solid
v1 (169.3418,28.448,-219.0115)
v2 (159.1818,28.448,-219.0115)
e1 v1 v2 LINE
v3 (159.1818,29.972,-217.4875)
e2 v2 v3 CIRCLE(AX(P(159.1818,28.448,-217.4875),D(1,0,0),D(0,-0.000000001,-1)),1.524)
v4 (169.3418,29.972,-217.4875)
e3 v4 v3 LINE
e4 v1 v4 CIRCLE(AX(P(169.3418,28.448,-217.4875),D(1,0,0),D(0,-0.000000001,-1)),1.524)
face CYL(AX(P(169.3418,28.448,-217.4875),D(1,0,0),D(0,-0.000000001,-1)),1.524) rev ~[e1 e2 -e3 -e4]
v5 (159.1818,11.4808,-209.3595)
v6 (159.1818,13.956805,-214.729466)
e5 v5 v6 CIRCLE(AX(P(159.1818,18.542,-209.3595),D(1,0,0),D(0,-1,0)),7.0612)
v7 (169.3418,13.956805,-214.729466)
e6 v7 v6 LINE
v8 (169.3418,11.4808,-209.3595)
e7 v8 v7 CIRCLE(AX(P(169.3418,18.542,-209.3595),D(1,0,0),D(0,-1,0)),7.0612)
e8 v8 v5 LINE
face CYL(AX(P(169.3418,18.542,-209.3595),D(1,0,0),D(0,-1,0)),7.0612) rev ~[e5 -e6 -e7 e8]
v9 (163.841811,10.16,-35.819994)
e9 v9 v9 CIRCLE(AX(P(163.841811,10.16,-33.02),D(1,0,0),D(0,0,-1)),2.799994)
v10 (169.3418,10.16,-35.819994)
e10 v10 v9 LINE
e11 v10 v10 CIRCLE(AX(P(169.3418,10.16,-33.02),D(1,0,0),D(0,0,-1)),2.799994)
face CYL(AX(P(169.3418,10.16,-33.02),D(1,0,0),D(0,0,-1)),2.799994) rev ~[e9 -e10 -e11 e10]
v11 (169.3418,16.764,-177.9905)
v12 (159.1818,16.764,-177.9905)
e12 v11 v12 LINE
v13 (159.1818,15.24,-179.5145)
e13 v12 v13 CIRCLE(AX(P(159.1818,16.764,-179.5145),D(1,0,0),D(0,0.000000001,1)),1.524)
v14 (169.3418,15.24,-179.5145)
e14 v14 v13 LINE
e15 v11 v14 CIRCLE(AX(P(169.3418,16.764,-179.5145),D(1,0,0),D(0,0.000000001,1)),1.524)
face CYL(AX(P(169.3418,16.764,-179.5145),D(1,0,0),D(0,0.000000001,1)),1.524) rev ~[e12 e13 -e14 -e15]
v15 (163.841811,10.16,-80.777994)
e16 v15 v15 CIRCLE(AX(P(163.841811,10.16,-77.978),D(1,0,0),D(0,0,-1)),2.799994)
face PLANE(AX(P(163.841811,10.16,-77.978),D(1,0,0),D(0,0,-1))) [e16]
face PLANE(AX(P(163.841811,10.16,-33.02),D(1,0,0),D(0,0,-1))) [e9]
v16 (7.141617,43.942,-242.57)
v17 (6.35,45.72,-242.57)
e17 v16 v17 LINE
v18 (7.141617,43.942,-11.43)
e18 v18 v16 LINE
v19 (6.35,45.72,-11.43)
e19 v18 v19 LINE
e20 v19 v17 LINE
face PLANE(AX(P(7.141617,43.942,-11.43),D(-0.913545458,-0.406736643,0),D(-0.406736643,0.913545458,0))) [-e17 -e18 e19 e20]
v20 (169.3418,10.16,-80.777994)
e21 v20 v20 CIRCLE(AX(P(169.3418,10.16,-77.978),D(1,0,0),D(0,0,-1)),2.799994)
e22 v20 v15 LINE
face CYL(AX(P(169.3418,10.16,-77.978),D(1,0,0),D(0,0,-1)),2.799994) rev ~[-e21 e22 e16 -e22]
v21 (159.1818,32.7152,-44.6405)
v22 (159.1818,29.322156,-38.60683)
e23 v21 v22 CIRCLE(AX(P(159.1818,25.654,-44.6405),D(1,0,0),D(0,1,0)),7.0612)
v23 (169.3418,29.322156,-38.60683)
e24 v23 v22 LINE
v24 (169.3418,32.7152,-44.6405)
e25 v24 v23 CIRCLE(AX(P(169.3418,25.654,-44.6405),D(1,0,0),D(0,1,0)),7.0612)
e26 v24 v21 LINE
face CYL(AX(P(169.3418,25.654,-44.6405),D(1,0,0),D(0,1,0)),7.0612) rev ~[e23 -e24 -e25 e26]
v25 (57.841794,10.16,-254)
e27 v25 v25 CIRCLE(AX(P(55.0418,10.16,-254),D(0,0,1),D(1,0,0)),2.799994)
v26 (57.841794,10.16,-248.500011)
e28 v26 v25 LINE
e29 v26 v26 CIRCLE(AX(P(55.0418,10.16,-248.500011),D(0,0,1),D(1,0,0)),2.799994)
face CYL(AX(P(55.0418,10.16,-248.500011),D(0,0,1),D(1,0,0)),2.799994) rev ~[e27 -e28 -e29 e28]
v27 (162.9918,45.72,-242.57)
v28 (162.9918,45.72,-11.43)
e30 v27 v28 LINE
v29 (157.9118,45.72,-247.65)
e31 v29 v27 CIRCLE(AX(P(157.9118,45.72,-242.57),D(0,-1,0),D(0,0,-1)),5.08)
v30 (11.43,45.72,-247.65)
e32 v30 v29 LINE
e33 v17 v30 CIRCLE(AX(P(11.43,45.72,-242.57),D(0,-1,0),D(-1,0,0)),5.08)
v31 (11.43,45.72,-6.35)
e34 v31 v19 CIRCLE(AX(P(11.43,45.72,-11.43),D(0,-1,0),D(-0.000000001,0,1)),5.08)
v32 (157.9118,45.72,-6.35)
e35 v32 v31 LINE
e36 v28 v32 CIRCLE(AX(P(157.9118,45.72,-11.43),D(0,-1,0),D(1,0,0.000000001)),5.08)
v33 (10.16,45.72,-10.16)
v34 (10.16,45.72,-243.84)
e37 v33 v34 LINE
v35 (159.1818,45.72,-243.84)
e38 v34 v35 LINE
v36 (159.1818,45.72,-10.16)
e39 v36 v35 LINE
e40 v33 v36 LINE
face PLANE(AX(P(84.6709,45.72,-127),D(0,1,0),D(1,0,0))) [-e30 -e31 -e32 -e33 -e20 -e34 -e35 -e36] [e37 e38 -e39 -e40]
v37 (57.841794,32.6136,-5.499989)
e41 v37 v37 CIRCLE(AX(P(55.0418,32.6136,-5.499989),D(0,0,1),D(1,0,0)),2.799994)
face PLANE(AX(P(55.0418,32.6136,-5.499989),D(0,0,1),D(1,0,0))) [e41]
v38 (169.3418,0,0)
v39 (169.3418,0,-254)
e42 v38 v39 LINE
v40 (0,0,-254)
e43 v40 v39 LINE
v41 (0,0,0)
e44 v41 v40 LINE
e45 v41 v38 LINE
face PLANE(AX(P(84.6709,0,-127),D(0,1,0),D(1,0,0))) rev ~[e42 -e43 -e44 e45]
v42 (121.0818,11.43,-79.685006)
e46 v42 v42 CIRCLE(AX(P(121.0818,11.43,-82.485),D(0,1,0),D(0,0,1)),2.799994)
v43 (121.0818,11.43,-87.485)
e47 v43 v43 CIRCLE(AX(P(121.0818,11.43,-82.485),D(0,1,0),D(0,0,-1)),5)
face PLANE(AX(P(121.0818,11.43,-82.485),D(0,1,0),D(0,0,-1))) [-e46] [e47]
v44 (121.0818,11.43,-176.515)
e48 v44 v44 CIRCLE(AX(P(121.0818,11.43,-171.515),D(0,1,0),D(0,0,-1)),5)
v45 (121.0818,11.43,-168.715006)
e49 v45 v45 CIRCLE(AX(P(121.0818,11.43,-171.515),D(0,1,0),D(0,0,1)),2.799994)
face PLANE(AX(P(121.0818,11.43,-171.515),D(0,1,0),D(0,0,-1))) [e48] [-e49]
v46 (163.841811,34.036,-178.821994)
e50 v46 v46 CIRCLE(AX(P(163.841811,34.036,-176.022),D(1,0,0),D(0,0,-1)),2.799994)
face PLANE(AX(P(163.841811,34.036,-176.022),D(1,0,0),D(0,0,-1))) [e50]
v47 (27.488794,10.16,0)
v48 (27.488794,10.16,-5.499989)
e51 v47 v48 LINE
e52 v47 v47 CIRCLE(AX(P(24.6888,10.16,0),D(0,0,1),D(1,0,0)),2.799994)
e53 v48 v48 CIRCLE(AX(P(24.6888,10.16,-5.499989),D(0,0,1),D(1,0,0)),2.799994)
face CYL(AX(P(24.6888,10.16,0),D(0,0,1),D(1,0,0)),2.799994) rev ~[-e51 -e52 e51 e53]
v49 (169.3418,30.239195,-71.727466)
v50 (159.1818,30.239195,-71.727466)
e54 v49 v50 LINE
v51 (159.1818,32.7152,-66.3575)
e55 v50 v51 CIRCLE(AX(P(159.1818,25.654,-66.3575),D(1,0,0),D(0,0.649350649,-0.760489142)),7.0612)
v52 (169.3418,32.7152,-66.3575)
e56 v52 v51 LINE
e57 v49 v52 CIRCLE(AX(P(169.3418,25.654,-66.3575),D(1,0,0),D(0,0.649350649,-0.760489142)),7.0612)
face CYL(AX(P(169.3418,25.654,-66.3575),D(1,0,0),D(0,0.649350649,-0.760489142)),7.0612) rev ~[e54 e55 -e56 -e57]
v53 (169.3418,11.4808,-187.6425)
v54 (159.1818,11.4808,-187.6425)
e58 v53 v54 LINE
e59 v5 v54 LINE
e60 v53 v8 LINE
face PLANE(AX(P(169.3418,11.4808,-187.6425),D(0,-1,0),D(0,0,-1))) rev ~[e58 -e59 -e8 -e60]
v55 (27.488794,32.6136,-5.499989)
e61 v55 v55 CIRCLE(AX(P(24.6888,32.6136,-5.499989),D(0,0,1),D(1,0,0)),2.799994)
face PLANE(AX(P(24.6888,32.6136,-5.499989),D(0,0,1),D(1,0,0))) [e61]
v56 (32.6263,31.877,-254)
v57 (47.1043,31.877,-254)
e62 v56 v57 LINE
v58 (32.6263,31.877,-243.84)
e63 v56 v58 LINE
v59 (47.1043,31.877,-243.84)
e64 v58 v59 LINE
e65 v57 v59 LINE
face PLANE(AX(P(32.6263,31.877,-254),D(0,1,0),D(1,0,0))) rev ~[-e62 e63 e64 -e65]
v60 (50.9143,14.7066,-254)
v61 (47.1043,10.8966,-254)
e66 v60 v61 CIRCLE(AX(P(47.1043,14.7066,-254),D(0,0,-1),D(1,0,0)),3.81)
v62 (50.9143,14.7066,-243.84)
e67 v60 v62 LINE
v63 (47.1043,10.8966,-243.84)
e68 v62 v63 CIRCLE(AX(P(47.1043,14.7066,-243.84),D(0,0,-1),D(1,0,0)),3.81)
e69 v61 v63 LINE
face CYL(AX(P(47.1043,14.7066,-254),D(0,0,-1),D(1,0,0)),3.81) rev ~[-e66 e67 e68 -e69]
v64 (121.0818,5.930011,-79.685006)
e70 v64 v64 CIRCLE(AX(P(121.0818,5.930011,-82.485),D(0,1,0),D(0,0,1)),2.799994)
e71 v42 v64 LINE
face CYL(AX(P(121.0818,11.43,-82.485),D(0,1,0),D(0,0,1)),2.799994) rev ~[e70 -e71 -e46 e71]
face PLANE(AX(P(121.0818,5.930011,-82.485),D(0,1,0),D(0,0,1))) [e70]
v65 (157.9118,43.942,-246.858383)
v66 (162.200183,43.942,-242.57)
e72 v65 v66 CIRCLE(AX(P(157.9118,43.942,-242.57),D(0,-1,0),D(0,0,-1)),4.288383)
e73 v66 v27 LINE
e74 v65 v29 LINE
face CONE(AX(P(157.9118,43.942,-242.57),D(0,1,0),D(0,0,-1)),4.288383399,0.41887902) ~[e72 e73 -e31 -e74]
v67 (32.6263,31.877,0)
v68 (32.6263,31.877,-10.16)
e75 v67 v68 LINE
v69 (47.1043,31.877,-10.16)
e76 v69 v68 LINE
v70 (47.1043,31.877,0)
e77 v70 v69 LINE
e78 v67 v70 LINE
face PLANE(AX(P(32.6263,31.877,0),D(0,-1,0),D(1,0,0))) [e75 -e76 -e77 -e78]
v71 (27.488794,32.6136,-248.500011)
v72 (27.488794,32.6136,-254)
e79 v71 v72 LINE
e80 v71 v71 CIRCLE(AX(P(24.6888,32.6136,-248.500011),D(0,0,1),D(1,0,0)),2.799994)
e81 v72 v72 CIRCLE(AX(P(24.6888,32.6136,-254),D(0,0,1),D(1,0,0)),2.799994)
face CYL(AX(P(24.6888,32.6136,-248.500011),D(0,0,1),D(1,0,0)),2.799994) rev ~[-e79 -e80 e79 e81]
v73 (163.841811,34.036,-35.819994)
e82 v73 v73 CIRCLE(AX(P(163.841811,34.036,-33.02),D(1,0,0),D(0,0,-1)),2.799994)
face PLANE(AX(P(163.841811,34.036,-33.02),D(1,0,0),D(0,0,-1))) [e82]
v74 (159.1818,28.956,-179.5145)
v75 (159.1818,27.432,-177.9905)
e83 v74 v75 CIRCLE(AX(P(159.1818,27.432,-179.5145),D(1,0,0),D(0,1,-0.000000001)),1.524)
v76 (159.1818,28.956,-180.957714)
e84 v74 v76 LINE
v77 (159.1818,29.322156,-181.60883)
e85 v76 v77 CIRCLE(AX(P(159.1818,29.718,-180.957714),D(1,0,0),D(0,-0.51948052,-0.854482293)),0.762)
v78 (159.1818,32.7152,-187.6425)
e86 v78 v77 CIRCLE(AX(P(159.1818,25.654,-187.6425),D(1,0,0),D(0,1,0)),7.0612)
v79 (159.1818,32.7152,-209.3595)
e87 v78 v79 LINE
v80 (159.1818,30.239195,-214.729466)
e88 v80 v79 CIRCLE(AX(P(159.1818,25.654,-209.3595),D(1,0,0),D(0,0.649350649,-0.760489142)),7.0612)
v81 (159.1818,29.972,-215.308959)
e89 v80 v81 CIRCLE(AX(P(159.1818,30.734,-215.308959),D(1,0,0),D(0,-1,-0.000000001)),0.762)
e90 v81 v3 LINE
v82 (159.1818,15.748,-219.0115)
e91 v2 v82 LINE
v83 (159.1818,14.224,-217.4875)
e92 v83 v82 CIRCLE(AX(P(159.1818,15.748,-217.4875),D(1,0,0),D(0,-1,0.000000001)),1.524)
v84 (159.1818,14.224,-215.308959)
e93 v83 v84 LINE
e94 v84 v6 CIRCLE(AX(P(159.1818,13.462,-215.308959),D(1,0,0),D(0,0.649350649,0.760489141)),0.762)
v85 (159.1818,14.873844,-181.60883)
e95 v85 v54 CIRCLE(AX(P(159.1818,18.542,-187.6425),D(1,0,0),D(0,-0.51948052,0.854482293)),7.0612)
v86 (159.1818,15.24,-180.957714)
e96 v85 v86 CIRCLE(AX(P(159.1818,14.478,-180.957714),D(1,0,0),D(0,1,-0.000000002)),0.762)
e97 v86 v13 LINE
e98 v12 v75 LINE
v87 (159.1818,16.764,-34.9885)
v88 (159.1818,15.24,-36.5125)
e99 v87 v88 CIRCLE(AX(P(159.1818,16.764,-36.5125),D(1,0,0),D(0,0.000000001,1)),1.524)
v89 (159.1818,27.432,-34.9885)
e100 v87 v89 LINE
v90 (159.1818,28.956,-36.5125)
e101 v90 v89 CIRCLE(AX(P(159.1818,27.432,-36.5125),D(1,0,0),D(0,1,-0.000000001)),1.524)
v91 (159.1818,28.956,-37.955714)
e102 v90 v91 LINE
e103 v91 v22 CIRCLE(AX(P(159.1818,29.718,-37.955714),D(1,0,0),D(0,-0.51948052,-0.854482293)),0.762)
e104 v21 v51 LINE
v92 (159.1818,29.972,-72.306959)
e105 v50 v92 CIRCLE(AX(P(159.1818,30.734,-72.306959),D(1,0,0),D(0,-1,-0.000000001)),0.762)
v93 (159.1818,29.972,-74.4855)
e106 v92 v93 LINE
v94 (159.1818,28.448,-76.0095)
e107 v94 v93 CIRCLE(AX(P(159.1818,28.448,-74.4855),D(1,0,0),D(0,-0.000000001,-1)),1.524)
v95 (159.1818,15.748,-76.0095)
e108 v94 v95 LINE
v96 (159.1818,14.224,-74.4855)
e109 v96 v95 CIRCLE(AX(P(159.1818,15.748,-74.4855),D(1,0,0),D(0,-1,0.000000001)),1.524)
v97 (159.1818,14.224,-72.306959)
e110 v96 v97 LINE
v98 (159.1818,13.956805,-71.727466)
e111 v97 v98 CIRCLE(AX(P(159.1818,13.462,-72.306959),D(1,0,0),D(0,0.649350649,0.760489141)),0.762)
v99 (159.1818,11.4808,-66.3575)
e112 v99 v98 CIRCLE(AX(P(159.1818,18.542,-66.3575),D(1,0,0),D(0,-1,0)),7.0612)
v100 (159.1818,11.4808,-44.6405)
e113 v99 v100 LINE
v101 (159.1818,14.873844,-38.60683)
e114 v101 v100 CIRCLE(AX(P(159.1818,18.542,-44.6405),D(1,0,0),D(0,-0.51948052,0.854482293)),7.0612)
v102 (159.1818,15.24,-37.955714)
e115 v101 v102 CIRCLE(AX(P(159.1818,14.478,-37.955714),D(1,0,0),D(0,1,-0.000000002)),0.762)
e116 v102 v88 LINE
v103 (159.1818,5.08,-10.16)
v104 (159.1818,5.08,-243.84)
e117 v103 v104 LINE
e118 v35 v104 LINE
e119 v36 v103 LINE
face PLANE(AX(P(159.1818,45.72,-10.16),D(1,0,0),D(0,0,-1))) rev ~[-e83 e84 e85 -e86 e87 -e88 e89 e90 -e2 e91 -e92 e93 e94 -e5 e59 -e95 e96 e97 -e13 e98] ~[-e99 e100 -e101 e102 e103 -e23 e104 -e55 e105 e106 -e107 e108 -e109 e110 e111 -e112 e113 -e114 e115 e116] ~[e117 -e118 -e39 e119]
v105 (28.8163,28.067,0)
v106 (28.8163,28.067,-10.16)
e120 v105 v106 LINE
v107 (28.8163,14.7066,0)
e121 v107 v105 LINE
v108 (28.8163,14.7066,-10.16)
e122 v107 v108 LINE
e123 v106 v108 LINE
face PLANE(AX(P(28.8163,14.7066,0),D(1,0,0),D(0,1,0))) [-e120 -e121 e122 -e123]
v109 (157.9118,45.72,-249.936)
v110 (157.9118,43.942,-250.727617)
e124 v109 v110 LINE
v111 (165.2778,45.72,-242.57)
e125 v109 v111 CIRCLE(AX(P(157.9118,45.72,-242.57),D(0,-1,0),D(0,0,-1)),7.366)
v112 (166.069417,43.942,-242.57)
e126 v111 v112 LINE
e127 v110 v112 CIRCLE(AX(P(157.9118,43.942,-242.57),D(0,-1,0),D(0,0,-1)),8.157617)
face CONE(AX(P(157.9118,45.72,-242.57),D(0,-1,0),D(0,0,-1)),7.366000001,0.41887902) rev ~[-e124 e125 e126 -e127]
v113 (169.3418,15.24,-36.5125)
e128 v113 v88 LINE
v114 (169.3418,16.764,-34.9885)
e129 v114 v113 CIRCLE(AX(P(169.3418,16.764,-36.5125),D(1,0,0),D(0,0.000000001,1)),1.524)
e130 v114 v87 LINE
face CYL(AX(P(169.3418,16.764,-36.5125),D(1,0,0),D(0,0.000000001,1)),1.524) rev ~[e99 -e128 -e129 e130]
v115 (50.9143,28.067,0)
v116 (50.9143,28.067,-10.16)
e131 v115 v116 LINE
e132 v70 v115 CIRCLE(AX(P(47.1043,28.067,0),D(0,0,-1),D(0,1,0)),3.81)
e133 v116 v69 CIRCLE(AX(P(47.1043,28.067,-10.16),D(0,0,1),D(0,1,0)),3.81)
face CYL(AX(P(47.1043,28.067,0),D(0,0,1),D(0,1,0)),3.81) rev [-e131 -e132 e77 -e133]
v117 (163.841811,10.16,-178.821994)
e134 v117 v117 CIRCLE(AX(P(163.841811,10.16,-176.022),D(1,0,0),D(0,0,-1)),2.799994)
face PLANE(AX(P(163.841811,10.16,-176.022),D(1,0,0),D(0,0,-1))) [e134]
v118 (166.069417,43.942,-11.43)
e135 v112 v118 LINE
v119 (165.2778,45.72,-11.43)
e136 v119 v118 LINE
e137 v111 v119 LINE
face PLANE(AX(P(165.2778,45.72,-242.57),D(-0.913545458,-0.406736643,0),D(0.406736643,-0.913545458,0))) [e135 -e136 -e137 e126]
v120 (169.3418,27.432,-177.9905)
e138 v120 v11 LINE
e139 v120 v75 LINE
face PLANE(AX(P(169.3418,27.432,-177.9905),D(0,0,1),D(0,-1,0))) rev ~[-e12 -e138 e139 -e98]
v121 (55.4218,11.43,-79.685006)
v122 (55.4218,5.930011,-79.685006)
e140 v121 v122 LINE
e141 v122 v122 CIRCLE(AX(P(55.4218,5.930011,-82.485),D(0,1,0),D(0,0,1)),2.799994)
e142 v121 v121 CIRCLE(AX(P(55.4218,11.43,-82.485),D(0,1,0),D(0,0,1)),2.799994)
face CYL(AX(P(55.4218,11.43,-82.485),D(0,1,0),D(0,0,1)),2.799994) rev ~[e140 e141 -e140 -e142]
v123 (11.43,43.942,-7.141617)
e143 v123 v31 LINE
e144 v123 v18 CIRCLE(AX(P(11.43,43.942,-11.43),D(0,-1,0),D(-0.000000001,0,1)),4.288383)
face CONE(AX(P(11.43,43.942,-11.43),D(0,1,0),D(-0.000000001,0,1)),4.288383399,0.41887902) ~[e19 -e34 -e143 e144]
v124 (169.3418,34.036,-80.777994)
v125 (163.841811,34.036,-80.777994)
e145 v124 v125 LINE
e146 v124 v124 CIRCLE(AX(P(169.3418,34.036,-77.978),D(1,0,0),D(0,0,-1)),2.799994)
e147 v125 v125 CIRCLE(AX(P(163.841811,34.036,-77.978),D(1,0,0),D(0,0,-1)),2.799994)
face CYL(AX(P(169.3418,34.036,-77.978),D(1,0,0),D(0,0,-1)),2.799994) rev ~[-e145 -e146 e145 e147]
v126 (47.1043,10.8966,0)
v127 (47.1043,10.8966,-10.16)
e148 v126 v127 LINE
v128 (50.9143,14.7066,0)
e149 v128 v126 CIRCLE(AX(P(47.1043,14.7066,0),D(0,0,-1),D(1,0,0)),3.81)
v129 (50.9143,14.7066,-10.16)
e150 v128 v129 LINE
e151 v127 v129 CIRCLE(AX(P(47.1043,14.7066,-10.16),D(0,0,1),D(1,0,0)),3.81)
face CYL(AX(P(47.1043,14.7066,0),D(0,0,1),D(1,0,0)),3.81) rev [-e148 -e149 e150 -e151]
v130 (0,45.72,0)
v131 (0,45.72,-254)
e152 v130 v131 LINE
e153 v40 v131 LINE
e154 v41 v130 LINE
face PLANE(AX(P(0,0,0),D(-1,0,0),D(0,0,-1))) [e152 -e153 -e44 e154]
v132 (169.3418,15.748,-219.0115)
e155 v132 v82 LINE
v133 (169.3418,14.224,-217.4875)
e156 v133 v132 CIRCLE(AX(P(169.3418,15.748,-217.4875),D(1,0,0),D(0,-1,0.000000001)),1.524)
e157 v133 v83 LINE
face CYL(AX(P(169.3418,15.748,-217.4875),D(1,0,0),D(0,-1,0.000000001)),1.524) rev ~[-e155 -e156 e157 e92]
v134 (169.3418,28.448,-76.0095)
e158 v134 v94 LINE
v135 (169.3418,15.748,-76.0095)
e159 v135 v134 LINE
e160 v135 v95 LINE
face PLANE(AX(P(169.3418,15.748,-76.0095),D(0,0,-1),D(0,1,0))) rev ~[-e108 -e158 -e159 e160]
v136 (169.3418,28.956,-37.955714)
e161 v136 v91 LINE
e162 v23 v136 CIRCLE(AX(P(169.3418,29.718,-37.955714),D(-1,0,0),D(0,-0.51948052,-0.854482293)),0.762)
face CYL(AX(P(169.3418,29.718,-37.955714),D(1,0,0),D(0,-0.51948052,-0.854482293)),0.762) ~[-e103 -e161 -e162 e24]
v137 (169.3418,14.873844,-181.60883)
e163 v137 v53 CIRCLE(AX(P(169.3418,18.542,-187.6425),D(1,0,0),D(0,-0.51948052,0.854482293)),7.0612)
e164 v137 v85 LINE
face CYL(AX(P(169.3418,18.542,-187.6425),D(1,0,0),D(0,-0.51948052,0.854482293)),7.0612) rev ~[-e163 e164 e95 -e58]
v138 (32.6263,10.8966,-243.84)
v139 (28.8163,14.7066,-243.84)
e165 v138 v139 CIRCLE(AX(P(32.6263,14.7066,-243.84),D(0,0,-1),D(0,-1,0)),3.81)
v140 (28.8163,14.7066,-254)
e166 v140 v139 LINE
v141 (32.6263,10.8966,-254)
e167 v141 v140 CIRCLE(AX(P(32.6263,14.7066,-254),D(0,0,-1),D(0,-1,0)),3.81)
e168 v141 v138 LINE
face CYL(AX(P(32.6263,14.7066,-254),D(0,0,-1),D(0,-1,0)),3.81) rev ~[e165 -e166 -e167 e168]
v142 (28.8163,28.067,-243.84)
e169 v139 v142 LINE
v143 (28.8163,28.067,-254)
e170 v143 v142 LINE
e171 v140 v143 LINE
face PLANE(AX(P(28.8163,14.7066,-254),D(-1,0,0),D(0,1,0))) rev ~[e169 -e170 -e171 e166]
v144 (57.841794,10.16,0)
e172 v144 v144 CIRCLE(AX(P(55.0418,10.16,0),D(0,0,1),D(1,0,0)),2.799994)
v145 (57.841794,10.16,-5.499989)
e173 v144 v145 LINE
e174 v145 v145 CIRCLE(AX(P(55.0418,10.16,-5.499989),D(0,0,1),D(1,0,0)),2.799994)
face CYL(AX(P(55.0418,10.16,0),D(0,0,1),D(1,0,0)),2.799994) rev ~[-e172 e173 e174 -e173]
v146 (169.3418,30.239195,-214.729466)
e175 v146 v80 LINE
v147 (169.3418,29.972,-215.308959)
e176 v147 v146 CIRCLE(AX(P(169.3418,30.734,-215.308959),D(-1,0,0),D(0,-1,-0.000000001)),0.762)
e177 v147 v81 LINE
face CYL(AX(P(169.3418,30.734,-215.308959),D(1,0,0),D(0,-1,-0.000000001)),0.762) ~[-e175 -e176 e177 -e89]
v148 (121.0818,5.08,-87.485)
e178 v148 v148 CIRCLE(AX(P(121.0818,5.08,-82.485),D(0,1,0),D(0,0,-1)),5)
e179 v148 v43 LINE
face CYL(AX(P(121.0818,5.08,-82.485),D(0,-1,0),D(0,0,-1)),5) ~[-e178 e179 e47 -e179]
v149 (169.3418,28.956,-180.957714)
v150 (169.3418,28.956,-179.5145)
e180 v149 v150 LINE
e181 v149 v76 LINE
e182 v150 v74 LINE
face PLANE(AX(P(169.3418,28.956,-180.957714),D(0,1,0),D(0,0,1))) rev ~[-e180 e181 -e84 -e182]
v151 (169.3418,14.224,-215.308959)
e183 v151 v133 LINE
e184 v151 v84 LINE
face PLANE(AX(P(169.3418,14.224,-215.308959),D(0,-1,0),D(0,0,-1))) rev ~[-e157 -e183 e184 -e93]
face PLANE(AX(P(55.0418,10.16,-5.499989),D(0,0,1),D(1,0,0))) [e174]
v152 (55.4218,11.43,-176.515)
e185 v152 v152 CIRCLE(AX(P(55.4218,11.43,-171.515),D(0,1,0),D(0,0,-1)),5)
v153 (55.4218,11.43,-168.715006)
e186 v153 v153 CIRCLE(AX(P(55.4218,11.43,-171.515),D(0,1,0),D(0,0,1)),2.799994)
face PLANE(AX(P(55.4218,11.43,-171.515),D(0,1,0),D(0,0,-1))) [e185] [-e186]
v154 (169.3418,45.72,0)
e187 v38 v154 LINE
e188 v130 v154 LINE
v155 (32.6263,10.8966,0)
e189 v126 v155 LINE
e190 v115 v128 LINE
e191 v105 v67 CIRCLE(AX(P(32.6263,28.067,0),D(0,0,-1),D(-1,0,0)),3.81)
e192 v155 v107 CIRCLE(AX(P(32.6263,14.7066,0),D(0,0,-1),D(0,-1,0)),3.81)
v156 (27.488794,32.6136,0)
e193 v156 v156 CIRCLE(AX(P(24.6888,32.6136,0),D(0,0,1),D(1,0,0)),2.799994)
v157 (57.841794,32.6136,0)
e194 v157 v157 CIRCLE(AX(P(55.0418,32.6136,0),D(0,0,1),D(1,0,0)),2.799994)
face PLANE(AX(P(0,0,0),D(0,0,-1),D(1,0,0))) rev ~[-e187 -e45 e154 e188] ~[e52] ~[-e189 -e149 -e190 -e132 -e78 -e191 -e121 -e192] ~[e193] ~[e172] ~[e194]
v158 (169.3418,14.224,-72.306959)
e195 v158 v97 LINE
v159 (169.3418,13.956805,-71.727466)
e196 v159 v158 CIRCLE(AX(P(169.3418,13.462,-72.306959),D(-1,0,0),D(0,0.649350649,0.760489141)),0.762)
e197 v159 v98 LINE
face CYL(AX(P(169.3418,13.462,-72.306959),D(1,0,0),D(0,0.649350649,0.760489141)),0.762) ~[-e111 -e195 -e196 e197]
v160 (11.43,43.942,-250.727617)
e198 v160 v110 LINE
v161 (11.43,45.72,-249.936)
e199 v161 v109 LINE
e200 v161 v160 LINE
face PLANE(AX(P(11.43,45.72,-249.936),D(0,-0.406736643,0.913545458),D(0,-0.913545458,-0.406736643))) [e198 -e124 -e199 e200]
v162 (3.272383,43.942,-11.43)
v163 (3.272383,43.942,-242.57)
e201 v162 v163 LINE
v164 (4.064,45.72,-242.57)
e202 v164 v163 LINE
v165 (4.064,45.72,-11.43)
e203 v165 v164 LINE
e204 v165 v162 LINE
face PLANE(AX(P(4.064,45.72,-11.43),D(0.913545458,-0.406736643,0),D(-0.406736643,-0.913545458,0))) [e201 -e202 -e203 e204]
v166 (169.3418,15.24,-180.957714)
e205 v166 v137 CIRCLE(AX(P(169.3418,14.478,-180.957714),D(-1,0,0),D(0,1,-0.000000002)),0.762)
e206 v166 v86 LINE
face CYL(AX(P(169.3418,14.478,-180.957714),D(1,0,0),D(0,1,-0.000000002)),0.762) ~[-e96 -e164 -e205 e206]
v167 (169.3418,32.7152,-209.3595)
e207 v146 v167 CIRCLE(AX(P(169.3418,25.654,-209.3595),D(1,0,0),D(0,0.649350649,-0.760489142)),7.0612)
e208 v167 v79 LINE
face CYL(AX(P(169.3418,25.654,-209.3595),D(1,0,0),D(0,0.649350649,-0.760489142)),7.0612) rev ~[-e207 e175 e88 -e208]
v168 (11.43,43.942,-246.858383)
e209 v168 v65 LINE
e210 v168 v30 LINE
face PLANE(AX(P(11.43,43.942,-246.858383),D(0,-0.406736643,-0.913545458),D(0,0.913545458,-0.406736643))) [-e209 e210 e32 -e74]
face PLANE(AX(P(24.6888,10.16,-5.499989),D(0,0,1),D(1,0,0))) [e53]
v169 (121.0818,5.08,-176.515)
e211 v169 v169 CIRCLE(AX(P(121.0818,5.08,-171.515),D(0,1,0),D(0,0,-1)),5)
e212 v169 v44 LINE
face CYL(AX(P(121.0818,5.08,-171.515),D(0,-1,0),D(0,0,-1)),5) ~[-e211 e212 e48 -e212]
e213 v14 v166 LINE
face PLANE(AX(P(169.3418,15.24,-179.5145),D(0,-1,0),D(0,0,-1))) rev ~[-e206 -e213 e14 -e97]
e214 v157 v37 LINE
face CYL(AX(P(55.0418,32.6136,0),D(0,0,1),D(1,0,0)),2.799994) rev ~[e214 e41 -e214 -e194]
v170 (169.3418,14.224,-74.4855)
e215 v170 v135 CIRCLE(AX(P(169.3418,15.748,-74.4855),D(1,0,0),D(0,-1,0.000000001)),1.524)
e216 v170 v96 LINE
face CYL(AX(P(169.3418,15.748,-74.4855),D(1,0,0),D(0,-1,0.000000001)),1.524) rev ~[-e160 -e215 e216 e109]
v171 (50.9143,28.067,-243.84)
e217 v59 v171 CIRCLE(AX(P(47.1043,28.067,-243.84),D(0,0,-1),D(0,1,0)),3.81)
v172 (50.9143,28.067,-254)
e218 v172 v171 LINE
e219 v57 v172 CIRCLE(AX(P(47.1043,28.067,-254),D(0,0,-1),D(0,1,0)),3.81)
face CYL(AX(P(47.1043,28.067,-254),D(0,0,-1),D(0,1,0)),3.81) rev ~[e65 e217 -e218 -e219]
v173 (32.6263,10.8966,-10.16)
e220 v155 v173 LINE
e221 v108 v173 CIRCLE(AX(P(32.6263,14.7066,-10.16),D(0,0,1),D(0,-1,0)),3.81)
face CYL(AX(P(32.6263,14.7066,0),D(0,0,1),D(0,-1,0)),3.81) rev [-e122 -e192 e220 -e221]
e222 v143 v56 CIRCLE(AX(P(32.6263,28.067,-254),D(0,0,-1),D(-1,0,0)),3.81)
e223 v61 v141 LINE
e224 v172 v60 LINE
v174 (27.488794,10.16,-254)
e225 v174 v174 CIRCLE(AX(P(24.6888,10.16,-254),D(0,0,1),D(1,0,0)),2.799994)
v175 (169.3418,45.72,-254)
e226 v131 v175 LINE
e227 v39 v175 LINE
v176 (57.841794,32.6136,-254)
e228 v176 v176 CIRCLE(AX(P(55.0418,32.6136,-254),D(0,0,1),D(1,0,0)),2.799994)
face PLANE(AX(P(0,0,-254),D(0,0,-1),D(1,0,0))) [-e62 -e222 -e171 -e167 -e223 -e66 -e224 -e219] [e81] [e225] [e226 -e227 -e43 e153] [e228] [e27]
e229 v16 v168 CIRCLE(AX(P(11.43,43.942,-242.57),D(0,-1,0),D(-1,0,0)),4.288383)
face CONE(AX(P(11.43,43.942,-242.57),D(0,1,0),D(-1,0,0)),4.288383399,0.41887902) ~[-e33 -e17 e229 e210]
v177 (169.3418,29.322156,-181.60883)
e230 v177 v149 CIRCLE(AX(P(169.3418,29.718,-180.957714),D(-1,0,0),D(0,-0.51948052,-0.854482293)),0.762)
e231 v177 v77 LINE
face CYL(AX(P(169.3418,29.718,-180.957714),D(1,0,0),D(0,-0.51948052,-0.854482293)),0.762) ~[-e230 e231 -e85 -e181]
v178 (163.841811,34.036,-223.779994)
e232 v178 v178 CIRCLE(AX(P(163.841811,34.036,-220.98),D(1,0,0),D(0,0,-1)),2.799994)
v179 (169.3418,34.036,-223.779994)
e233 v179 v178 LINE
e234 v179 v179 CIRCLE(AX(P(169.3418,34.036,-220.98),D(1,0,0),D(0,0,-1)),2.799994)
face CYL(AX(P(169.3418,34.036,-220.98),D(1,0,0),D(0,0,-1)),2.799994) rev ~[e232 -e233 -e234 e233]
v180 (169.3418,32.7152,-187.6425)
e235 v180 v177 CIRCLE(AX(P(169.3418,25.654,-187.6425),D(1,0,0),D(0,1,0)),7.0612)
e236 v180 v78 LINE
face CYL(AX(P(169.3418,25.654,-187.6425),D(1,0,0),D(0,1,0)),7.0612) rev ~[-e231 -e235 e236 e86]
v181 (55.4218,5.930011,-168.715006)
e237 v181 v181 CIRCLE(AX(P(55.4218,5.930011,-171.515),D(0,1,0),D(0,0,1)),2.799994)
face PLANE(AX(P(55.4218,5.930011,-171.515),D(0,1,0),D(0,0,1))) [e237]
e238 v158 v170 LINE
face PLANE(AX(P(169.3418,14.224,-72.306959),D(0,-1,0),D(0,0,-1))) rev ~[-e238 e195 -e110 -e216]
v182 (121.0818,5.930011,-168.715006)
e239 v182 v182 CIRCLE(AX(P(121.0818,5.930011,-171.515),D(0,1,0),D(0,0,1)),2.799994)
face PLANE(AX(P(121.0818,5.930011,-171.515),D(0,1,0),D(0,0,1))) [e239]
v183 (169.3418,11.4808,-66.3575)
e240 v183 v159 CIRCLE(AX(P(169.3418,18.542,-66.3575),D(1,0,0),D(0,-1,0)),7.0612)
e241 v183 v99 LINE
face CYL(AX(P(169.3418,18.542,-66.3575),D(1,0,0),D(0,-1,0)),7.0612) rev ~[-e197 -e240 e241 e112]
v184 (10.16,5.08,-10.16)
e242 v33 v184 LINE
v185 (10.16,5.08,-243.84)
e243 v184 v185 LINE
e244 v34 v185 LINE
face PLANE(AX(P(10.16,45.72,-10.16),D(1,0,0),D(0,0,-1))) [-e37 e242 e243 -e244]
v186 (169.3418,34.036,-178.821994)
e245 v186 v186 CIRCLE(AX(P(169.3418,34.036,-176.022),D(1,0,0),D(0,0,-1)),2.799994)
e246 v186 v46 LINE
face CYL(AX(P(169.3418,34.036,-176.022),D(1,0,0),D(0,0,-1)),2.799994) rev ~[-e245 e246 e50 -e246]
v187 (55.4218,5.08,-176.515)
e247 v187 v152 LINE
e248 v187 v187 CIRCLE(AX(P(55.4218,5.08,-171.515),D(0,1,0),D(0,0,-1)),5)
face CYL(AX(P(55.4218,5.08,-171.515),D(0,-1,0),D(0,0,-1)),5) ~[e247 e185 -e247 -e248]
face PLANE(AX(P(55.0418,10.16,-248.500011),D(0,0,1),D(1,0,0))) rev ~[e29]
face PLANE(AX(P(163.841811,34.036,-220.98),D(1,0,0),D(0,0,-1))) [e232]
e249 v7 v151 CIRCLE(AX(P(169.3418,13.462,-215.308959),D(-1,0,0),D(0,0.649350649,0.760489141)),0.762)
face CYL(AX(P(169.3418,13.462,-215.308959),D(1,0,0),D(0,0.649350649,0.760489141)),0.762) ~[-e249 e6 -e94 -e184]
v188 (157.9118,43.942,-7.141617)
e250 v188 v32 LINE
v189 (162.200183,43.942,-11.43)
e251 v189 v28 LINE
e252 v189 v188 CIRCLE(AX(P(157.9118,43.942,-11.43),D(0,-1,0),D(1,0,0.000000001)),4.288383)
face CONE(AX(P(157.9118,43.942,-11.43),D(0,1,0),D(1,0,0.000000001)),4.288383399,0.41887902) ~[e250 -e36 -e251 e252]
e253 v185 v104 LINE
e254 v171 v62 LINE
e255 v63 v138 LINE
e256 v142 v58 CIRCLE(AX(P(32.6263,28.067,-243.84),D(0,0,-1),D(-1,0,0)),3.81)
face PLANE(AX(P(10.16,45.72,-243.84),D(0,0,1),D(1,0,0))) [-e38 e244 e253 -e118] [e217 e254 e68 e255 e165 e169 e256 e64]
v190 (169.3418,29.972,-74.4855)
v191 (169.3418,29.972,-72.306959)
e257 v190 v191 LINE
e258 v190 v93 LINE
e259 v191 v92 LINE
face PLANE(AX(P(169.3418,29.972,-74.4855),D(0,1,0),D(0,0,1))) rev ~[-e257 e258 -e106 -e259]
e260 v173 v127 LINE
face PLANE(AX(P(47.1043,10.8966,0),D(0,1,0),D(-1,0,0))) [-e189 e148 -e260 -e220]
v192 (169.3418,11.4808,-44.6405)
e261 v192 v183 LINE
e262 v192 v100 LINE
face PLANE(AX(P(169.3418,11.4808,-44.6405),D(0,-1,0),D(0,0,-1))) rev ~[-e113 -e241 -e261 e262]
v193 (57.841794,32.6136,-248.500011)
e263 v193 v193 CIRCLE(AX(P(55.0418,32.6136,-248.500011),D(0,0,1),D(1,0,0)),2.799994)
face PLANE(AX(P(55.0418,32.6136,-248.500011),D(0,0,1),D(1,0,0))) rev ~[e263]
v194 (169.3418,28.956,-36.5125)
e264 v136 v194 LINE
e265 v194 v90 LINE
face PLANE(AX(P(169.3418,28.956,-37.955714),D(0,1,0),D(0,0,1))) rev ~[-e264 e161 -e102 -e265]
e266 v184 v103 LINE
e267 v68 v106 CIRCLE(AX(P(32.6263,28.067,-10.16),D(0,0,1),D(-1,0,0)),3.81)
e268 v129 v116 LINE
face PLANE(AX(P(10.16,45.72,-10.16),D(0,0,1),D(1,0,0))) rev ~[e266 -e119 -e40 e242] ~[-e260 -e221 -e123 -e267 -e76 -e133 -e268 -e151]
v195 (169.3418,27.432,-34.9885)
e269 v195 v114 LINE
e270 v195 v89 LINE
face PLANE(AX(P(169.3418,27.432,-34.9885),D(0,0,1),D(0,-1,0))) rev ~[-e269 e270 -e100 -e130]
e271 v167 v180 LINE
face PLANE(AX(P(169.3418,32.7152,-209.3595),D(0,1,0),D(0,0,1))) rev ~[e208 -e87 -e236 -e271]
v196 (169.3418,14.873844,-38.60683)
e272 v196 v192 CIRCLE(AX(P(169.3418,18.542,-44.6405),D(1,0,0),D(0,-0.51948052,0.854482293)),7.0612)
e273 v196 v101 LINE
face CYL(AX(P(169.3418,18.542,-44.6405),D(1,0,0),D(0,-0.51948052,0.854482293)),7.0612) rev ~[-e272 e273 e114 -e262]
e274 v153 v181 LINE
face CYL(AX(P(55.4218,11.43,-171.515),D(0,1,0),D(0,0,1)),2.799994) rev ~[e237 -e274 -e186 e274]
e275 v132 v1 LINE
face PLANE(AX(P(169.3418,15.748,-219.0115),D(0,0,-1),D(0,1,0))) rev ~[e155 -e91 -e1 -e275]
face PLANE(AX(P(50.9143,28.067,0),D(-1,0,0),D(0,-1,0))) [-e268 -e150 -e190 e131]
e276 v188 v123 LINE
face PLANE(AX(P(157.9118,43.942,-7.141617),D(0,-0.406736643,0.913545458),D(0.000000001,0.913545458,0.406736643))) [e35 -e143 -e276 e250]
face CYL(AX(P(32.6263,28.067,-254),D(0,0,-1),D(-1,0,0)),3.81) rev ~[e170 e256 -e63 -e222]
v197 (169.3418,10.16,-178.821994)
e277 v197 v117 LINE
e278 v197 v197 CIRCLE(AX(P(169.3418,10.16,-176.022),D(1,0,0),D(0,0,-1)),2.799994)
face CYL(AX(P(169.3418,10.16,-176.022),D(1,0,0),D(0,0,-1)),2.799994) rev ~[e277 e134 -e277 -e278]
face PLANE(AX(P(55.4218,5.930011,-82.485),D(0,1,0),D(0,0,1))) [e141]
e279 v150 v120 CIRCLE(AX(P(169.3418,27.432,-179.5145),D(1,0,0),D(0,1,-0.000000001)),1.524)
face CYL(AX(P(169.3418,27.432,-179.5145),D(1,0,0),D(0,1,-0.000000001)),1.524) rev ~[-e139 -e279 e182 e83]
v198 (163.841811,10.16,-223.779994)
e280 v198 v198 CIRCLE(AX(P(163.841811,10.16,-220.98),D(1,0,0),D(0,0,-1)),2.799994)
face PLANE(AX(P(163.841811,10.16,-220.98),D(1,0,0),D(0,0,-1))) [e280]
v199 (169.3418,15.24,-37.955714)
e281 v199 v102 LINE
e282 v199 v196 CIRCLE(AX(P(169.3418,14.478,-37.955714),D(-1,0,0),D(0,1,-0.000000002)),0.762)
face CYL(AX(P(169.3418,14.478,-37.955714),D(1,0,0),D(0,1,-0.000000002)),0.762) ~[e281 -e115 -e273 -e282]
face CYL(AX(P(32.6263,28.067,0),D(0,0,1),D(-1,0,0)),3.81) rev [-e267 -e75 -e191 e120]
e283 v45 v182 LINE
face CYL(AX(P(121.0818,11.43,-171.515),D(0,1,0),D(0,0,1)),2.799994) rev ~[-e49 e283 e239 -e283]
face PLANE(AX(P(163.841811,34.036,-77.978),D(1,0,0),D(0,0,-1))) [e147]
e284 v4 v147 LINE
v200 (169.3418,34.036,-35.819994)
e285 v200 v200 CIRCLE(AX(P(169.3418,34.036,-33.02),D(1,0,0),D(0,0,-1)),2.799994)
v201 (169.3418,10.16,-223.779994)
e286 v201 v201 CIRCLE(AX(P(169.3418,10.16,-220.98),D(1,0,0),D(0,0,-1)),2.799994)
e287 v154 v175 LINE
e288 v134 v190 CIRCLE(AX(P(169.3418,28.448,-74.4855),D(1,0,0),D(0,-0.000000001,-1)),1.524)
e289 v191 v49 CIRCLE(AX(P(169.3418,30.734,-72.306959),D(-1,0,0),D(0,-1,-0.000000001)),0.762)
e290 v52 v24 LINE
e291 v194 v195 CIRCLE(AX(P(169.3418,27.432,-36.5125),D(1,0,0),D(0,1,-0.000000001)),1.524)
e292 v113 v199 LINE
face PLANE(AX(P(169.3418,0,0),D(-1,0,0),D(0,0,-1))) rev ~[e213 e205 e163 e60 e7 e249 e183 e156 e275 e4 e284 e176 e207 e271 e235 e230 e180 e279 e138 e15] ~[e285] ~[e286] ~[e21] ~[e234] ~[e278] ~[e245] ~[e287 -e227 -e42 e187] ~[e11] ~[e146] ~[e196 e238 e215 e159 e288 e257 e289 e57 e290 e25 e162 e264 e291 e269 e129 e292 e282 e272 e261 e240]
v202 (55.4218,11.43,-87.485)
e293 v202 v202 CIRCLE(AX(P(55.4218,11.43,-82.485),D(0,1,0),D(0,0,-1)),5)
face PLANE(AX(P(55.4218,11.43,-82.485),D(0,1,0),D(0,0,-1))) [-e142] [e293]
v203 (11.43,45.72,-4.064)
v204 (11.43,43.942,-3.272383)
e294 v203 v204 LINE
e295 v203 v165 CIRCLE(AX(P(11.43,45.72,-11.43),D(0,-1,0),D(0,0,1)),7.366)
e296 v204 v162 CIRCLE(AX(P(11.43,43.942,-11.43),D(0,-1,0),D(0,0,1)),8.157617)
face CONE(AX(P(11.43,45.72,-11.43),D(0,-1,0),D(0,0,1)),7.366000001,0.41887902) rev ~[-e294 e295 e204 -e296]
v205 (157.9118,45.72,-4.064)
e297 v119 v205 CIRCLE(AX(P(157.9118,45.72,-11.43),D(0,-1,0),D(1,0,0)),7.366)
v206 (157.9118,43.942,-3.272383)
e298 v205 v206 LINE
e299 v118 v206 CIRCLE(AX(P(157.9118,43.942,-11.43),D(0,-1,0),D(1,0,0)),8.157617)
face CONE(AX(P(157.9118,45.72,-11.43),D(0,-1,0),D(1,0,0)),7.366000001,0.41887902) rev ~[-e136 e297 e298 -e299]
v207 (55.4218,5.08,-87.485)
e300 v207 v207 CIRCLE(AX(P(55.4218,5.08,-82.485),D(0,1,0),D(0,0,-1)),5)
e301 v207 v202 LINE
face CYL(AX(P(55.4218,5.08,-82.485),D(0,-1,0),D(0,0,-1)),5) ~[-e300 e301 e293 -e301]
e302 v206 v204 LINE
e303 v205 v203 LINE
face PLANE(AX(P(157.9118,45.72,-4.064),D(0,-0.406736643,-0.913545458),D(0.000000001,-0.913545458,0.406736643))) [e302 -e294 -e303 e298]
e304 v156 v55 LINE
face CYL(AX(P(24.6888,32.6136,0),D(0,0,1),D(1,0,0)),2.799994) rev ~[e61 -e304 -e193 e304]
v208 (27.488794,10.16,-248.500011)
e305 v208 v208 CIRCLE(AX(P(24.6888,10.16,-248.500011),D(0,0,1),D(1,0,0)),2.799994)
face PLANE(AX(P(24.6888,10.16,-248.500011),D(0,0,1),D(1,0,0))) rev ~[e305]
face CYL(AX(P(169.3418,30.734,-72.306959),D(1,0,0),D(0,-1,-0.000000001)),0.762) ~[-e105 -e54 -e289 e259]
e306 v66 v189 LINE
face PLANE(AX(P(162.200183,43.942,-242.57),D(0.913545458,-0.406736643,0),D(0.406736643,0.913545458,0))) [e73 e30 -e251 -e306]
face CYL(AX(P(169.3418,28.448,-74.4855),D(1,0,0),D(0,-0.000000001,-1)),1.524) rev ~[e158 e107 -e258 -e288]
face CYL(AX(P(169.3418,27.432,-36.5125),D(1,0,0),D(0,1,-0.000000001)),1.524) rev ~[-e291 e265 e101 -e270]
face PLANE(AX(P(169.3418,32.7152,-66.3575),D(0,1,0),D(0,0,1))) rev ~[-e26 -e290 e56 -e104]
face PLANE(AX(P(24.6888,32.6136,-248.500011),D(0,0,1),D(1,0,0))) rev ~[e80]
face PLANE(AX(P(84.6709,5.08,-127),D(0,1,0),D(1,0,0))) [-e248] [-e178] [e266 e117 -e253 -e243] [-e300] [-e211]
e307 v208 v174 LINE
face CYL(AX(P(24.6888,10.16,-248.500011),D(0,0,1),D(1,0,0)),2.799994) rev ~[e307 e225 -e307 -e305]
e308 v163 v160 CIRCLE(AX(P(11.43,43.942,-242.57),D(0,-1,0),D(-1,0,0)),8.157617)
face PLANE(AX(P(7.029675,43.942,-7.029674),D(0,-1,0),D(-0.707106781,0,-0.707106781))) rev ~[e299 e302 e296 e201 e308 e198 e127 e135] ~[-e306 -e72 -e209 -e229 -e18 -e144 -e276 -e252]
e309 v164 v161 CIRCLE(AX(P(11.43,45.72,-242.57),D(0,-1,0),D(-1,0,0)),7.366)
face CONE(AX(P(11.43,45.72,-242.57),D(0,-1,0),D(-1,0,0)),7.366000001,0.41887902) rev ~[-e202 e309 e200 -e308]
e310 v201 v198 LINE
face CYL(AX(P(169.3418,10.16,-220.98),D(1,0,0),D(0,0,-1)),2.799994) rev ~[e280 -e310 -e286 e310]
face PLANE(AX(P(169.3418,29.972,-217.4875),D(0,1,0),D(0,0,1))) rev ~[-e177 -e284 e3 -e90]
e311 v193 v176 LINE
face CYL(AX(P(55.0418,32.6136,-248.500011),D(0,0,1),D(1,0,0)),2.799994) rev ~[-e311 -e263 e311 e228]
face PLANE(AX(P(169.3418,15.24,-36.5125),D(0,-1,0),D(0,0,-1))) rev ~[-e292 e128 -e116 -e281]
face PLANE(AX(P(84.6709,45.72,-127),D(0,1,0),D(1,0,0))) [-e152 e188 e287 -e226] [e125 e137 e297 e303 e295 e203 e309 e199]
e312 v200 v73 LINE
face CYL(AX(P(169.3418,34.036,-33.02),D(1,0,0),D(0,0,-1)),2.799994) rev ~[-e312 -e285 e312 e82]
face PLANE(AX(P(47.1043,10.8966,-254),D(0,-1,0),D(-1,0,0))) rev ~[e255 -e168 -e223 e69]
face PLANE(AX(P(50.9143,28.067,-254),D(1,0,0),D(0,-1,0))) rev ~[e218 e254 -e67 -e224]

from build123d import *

# Parameters (mm, degrees)
SKETCH1_W           = 169.3418
SKETCH1_H           = 254
BOSS_EXTRUDE1_DEPTH = 45.72
SKETCH2_W           = 149.0218
SKETCH2_H           = 233.68
CUT_EXTRUDE1_DEPTH  = 40.64
CUT_EXTRUDE10_REACH = 310.679
F_12_PIN_MOUNT_R    = 2.7999944
CUT_EXTRUDE3_DEPTH  = 5.499989
CUT_EXTRUDE5_REACH  = 310.679
CUT_EXTRUDE6_START  = -254
CUT_EXTRUDE6_DEPTH  = 10.16
SKETCH6_R           = 2.7999944
CUT_EXTRUDE7_DEPTH  = 5.499989
CUT_EXTRUDE8_START  = -248.500011
SKETCH6_2_R         = 2.7999944
CUT_EXTRUDE8_DEPTH  = 5.499989
SKETCH7_R           = 5
BOSS_EXTRUDE2_DEPTH = 6.35
CUT_EXTRUDE9_START  = 6.35
SKETCH8_R           = 2.7999944
CUT_EXTRUDE9_DEPTH  = 5.499989


with BuildPart() as part:
    # Sketch1 → Boss-Extrude1 (new body)
    with BuildSketch(Plane(origin=(0, 0, 0), x_dir=(1, 0, 0), z_dir=(0, 1, 0))):
        with Locations((84.6709, 127)):
            Rectangle(SKETCH1_W, SKETCH1_H)
    extrude(amount=BOSS_EXTRUDE1_DEPTH)

    # Sketch2 → Cut-Extrude1 (cut)
    with BuildSketch(Plane(origin=(0, 45.72, 0), x_dir=(1, 0, 0), z_dir=(0, 1, 0))):
        with Locations((84.6709, 127)):
            Rectangle(SKETCH2_W, SKETCH2_H)
    extrude(amount=-CUT_EXTRUDE1_DEPTH, mode=Mode.SUBTRACT)

    # Cut-Sweep2: sweep along a path in Sketch3
    with BuildLine(Plane(origin=(0, 45.72, 0), x_dir=(1, 0, 0), z_dir=(0, 1, 0))) as cut_sweep2_path:
        Line((6.35, 11.43), (6.35, 242.57))
        ThreePointArc((6.35, 242.57), (7.837897552, 246.162102448), (11.43, 247.65))
        Line((11.43, 247.65), (157.9118, 247.65))
        ThreePointArc((157.9118, 247.65), (161.503902448, 246.162102448), (162.9918, 242.57))
        Line((162.9918, 242.57), (162.9918, 11.43))
        ThreePointArc((162.9918, 11.43), (161.503902448, 7.837897552), (157.9118, 6.35))
        Line((157.9118, 6.35), (11.43, 6.35))
        ThreePointArc((11.43, 6.35), (7.837897552, 7.837897552), (6.35, 11.43))
    # Sketch4 → Cut-Sweep2 (sweep, cut)
    with BuildSketch(Plane.XY.offset(-15.24)):
        Polygon((4.064, 45.72), (3.272383398, 43.942), (7.141616602, 43.942), (6.35, 45.72), align=None)
    sweep(path=cut_sweep2_path.line, mode=Mode.SUBTRACT)

    # Sketch13 → Cut-Extrude10 (cut, up to next)
    with BuildSketch(Plane(origin=(169.3418, 0, 0), x_dir=(0, 0, -1), z_dir=(1, 0, 0)), mode=Mode.PRIVATE) as cut_extrude10_sk1:
        with BuildLine():
            Line((37.955714122, 28.956), (36.5125, 28.956))
            ThreePointArc((36.5125, 28.956), (35.434869265, 28.509630735), (34.9885, 27.432))
            Line((34.9885, 27.432), (34.9885, 16.764))
            ThreePointArc((34.9885, 16.764), (35.434869265, 15.686369265), (36.5125, 15.24))
            Line((36.5125, 15.24), (37.955714122, 15.24))
            ThreePointArc((37.955714122, 15.24), (38.329218307, 15.142182673), (38.606829629, 14.873844156))
            ThreePointArc((38.606829629, 14.873844156), (41.179361214, 12.387240562), (44.6405, 11.4808))
            Line((44.6405, 11.4808), (66.3575, 11.4808))
            ThreePointArc((66.3575, 11.4808), (69.314150798, 12.129608753), (71.727465925, 13.956805195))
            ThreePointArc((71.727465925, 13.956805195), (71.987895615, 14.153984667), (72.306958651, 14.224))
            Line((72.306958651, 14.224), (74.4855, 14.224))
            ThreePointArc((74.4855, 14.224), (75.563130735, 14.670369265), (76.0095, 15.748))
            Line((76.0095, 15.748), (76.0095, 28.448))
            ThreePointArc((76.0095, 28.448), (75.563130735, 29.525630735), (74.4855, 29.972))
            Line((74.4855, 29.972), (72.306958651, 29.972))
            ThreePointArc((72.306958651, 29.972), (71.987895615, 30.042015333), (71.727465925, 30.239194805))
            ThreePointArc((71.727465925, 30.239194805), (69.314150798, 32.066391247), (66.3575, 32.7152))
            Line((66.3575, 32.7152), (44.6405, 32.7152))
            ThreePointArc((44.6405, 32.7152), (41.179361214, 31.808759438), (38.606829629, 29.322155844))
            ThreePointArc((38.606829629, 29.322155844), (38.329218307, 29.053817327), (37.955714122, 28.956))
        make_face()
    cut_extrude10_tool1 = extrude(cut_extrude10_sk1.sketch, amount=-CUT_EXTRUDE10_REACH, mode=Mode.PRIVATE) & part.part
    # Sketch13 → Cut-Extrude10 (cut, up to next)
    with BuildSketch(Plane(origin=(169.3418, 0, 0), x_dir=(0, 0, -1), z_dir=(1, 0, 0)), mode=Mode.PRIVATE) as cut_extrude10_sk2:
        with BuildLine():
            Line((180.957714122, 28.956), (179.5145, 28.956))
            ThreePointArc((179.5145, 28.956), (178.436869265, 28.509630735), (177.9905, 27.432))
            Line((177.9905, 27.432), (177.9905, 16.764))
            ThreePointArc((177.9905, 16.764), (178.436869265, 15.686369265), (179.5145, 15.24))
            Line((179.5145, 15.24), (180.957714122, 15.24))
            ThreePointArc((180.957714122, 15.24), (181.331218307, 15.142182673), (181.608829629, 14.873844156))
            ThreePointArc((181.608829629, 14.873844156), (184.181361214, 12.387240562), (187.6425, 11.4808))
            Line((187.6425, 11.4808), (209.3595, 11.4808))
            ThreePointArc((209.3595, 11.4808), (212.316150798, 12.129608753), (214.729465925, 13.956805195))
            ThreePointArc((214.729465925, 13.956805195), (214.989895615, 14.153984667), (215.308958651, 14.224))
            Line((215.308958651, 14.224), (217.4875, 14.224))
            ThreePointArc((217.4875, 14.224), (218.565130735, 14.670369265), (219.0115, 15.748))
            Line((219.0115, 15.748), (219.0115, 28.448))
            ThreePointArc((219.0115, 28.448), (218.565130735, 29.525630735), (217.4875, 29.972))
            Line((217.4875, 29.972), (215.308958651, 29.972))
            ThreePointArc((215.308958651, 29.972), (214.989895615, 30.042015333), (214.729465925, 30.239194805))
            ThreePointArc((214.729465925, 30.239194805), (212.316150798, 32.066391247), (209.3595, 32.7152))
            Line((209.3595, 32.7152), (187.6425, 32.7152))
            ThreePointArc((187.6425, 32.7152), (184.181361214, 31.808759438), (181.608829629, 29.322155844))
            ThreePointArc((181.608829629, 29.322155844), (181.331218307, 29.053817327), (180.957714122, 28.956))
        make_face()
    cut_extrude10_tool2 = extrude(cut_extrude10_sk2.sketch, amount=-CUT_EXTRUDE10_REACH, mode=Mode.PRIVATE) & part.part
    add(cut_extrude10_tool1.solids().sort_by_distance((169.3418, 22.098, -55.674803))[0], mode=Mode.SUBTRACT)
    add(cut_extrude10_tool2.solids().sort_by_distance((169.3418, 22.098, -198.676803))[0], mode=Mode.SUBTRACT)

    # 12 pin mount → Cut-Extrude3 (cut)
    with BuildSketch(Plane(origin=(169.3418, 0, 0), x_dir=(0, 0, -1), z_dir=(1, 0, 0))):
        with Locations((77.978, 34.036)):
            Circle(F_12_PIN_MOUNT_R)
        with Locations((77.978, 10.16)):
            Circle(F_12_PIN_MOUNT_R)
        with Locations((33.02, 10.16)):
            Circle(F_12_PIN_MOUNT_R)
        with Locations((33.02, 34.036)):
            Circle(F_12_PIN_MOUNT_R)
        with Locations((176.022, 34.036)):
            Circle(F_12_PIN_MOUNT_R)
        with Locations((220.98, 34.036)):
            Circle(F_12_PIN_MOUNT_R)
        with Locations((220.98, 10.16)):
            Circle(F_12_PIN_MOUNT_R)
        with Locations((176.022, 10.16)):
            Circle(F_12_PIN_MOUNT_R)
    extrude(amount=-CUT_EXTRUDE3_DEPTH, mode=Mode.SUBTRACT)

    # 4 pin connector → Cut-Extrude5 (cut, up to next)
    with BuildSketch(Plane.XY, mode=Mode.PRIVATE) as cut_extrude5_sk1:
        with BuildLine():
            Line((32.6263, 31.877), (47.1043, 31.877))
            ThreePointArc((47.1043, 31.877), (49.798376836, 30.761076836), (50.9143, 28.067))
            Line((50.9143, 28.067), (50.9143, 14.7066))
            ThreePointArc((50.9143, 14.7066), (49.798376836, 12.012523164), (47.1043, 10.8966))
            Line((47.1043, 10.8966), (32.6263, 10.8966))
            ThreePointArc((32.6263, 10.8966), (29.932223164, 12.012523164), (28.8163, 14.7066))
            Line((28.8163, 14.7066), (28.8163, 28.067))
            ThreePointArc((28.8163, 28.067), (29.932223164, 30.761076836), (32.6263, 31.877))
        make_face()
    cut_extrude5_tool1 = extrude(cut_extrude5_sk1.sketch, amount=-CUT_EXTRUDE5_REACH, mode=Mode.PRIVATE) & part.part
    add(cut_extrude5_tool1.solids().sort_by_distance((39.8653, 21.3868, 0))[0], mode=Mode.SUBTRACT)

    # Sketch5<2> → Cut-Extrude6 (cut)
    with BuildSketch(Plane.XY.offset(CUT_EXTRUDE6_START)):
        with BuildLine():
            Line((32.6263, 31.877), (47.1043, 31.877))
            ThreePointArc((47.1043, 31.877), (49.798376836, 30.761076836), (50.9143, 28.067))
            Line((50.9143, 28.067), (50.9143, 14.7066))
            ThreePointArc((50.9143, 14.7066), (49.798376836, 12.012523164), (47.1043, 10.8966))
            Line((47.1043, 10.8966), (32.6263, 10.8966))
            ThreePointArc((32.6263, 10.8966), (29.932223164, 12.012523164), (28.8163, 14.7066))
            Line((28.8163, 14.7066), (28.8163, 28.067))
            ThreePointArc((28.8163, 28.067), (29.932223164, 30.761076836), (32.6263, 31.877))
        make_face()
    extrude(amount=CUT_EXTRUDE6_DEPTH, mode=Mode.SUBTRACT)

    # Sketch6 → Cut-Extrude7 (cut)
    with BuildSketch(Plane.XY):
        with Locations((55.0418, 32.6136)):
            Circle(SKETCH6_R)
        with Locations((55.0418, 10.16)):
            Circle(SKETCH6_R)
        with Locations((24.6888, 10.16)):
            Circle(SKETCH6_R)
        with Locations((24.6888, 32.6136)):
            Circle(SKETCH6_R)
    extrude(amount=-CUT_EXTRUDE7_DEPTH, mode=Mode.SUBTRACT)

    # Sketch6<2> → Cut-Extrude8 (cut)
    with BuildSketch(Plane.XY.offset(CUT_EXTRUDE8_START)):
        with Locations((55.0418, 32.6136)):
            Circle(SKETCH6_2_R)
        with Locations((55.0418, 10.16)):
            Circle(SKETCH6_2_R)
        with Locations((24.6888, 10.16)):
            Circle(SKETCH6_2_R)
        with Locations((24.6888, 32.6136)):
            Circle(SKETCH6_2_R)
    extrude(amount=-CUT_EXTRUDE8_DEPTH, mode=Mode.SUBTRACT)

    # Sketch7 → Boss-Extrude2 (add)
    with BuildSketch(Plane(origin=(0, 5.08, 0), x_dir=(1, 0, 0), z_dir=(0, 1, 0))):
        with Locations(Location((55.4218, 82.485, 0), (0, 0, 90))):
            Circle(SKETCH7_R)
        with Locations(Location((121.0818, 82.485, 0), (0, 0, 90))):
            Circle(SKETCH7_R)
        with Locations(Location((121.0818, 171.515, 0), (0, 0, 90))):
            Circle(SKETCH7_R)
        with Locations(Location((55.4218, 171.515, 0), (0, 0, 90))):
            Circle(SKETCH7_R)
    extrude(amount=BOSS_EXTRUDE2_DEPTH)

    # Sketch8 → Cut-Extrude9 (cut)
    with BuildSketch(Plane(origin=(0, 5.08, 0), x_dir=(1, 0, 0), z_dir=(0, 1, 0)).offset(CUT_EXTRUDE9_START)):
        with Locations(Location((55.4218, 171.515, 0), (0, 0, 270))):
            Circle(SKETCH8_R)
        with Locations(Location((121.0818, 171.515, 0), (0, 0, 270))):
            Circle(SKETCH8_R)
        with Locations(Location((121.0818, 82.485, 0), (0, 0, 270))):
            Circle(SKETCH8_R)
        with Locations(Location((55.4218, 82.485, 0), (0, 0, 270))):
            Circle(SKETCH8_R)
    extrude(amount=-CUT_EXTRUDE9_DEPTH, mode=Mode.SUBTRACT)


solid = part.part
